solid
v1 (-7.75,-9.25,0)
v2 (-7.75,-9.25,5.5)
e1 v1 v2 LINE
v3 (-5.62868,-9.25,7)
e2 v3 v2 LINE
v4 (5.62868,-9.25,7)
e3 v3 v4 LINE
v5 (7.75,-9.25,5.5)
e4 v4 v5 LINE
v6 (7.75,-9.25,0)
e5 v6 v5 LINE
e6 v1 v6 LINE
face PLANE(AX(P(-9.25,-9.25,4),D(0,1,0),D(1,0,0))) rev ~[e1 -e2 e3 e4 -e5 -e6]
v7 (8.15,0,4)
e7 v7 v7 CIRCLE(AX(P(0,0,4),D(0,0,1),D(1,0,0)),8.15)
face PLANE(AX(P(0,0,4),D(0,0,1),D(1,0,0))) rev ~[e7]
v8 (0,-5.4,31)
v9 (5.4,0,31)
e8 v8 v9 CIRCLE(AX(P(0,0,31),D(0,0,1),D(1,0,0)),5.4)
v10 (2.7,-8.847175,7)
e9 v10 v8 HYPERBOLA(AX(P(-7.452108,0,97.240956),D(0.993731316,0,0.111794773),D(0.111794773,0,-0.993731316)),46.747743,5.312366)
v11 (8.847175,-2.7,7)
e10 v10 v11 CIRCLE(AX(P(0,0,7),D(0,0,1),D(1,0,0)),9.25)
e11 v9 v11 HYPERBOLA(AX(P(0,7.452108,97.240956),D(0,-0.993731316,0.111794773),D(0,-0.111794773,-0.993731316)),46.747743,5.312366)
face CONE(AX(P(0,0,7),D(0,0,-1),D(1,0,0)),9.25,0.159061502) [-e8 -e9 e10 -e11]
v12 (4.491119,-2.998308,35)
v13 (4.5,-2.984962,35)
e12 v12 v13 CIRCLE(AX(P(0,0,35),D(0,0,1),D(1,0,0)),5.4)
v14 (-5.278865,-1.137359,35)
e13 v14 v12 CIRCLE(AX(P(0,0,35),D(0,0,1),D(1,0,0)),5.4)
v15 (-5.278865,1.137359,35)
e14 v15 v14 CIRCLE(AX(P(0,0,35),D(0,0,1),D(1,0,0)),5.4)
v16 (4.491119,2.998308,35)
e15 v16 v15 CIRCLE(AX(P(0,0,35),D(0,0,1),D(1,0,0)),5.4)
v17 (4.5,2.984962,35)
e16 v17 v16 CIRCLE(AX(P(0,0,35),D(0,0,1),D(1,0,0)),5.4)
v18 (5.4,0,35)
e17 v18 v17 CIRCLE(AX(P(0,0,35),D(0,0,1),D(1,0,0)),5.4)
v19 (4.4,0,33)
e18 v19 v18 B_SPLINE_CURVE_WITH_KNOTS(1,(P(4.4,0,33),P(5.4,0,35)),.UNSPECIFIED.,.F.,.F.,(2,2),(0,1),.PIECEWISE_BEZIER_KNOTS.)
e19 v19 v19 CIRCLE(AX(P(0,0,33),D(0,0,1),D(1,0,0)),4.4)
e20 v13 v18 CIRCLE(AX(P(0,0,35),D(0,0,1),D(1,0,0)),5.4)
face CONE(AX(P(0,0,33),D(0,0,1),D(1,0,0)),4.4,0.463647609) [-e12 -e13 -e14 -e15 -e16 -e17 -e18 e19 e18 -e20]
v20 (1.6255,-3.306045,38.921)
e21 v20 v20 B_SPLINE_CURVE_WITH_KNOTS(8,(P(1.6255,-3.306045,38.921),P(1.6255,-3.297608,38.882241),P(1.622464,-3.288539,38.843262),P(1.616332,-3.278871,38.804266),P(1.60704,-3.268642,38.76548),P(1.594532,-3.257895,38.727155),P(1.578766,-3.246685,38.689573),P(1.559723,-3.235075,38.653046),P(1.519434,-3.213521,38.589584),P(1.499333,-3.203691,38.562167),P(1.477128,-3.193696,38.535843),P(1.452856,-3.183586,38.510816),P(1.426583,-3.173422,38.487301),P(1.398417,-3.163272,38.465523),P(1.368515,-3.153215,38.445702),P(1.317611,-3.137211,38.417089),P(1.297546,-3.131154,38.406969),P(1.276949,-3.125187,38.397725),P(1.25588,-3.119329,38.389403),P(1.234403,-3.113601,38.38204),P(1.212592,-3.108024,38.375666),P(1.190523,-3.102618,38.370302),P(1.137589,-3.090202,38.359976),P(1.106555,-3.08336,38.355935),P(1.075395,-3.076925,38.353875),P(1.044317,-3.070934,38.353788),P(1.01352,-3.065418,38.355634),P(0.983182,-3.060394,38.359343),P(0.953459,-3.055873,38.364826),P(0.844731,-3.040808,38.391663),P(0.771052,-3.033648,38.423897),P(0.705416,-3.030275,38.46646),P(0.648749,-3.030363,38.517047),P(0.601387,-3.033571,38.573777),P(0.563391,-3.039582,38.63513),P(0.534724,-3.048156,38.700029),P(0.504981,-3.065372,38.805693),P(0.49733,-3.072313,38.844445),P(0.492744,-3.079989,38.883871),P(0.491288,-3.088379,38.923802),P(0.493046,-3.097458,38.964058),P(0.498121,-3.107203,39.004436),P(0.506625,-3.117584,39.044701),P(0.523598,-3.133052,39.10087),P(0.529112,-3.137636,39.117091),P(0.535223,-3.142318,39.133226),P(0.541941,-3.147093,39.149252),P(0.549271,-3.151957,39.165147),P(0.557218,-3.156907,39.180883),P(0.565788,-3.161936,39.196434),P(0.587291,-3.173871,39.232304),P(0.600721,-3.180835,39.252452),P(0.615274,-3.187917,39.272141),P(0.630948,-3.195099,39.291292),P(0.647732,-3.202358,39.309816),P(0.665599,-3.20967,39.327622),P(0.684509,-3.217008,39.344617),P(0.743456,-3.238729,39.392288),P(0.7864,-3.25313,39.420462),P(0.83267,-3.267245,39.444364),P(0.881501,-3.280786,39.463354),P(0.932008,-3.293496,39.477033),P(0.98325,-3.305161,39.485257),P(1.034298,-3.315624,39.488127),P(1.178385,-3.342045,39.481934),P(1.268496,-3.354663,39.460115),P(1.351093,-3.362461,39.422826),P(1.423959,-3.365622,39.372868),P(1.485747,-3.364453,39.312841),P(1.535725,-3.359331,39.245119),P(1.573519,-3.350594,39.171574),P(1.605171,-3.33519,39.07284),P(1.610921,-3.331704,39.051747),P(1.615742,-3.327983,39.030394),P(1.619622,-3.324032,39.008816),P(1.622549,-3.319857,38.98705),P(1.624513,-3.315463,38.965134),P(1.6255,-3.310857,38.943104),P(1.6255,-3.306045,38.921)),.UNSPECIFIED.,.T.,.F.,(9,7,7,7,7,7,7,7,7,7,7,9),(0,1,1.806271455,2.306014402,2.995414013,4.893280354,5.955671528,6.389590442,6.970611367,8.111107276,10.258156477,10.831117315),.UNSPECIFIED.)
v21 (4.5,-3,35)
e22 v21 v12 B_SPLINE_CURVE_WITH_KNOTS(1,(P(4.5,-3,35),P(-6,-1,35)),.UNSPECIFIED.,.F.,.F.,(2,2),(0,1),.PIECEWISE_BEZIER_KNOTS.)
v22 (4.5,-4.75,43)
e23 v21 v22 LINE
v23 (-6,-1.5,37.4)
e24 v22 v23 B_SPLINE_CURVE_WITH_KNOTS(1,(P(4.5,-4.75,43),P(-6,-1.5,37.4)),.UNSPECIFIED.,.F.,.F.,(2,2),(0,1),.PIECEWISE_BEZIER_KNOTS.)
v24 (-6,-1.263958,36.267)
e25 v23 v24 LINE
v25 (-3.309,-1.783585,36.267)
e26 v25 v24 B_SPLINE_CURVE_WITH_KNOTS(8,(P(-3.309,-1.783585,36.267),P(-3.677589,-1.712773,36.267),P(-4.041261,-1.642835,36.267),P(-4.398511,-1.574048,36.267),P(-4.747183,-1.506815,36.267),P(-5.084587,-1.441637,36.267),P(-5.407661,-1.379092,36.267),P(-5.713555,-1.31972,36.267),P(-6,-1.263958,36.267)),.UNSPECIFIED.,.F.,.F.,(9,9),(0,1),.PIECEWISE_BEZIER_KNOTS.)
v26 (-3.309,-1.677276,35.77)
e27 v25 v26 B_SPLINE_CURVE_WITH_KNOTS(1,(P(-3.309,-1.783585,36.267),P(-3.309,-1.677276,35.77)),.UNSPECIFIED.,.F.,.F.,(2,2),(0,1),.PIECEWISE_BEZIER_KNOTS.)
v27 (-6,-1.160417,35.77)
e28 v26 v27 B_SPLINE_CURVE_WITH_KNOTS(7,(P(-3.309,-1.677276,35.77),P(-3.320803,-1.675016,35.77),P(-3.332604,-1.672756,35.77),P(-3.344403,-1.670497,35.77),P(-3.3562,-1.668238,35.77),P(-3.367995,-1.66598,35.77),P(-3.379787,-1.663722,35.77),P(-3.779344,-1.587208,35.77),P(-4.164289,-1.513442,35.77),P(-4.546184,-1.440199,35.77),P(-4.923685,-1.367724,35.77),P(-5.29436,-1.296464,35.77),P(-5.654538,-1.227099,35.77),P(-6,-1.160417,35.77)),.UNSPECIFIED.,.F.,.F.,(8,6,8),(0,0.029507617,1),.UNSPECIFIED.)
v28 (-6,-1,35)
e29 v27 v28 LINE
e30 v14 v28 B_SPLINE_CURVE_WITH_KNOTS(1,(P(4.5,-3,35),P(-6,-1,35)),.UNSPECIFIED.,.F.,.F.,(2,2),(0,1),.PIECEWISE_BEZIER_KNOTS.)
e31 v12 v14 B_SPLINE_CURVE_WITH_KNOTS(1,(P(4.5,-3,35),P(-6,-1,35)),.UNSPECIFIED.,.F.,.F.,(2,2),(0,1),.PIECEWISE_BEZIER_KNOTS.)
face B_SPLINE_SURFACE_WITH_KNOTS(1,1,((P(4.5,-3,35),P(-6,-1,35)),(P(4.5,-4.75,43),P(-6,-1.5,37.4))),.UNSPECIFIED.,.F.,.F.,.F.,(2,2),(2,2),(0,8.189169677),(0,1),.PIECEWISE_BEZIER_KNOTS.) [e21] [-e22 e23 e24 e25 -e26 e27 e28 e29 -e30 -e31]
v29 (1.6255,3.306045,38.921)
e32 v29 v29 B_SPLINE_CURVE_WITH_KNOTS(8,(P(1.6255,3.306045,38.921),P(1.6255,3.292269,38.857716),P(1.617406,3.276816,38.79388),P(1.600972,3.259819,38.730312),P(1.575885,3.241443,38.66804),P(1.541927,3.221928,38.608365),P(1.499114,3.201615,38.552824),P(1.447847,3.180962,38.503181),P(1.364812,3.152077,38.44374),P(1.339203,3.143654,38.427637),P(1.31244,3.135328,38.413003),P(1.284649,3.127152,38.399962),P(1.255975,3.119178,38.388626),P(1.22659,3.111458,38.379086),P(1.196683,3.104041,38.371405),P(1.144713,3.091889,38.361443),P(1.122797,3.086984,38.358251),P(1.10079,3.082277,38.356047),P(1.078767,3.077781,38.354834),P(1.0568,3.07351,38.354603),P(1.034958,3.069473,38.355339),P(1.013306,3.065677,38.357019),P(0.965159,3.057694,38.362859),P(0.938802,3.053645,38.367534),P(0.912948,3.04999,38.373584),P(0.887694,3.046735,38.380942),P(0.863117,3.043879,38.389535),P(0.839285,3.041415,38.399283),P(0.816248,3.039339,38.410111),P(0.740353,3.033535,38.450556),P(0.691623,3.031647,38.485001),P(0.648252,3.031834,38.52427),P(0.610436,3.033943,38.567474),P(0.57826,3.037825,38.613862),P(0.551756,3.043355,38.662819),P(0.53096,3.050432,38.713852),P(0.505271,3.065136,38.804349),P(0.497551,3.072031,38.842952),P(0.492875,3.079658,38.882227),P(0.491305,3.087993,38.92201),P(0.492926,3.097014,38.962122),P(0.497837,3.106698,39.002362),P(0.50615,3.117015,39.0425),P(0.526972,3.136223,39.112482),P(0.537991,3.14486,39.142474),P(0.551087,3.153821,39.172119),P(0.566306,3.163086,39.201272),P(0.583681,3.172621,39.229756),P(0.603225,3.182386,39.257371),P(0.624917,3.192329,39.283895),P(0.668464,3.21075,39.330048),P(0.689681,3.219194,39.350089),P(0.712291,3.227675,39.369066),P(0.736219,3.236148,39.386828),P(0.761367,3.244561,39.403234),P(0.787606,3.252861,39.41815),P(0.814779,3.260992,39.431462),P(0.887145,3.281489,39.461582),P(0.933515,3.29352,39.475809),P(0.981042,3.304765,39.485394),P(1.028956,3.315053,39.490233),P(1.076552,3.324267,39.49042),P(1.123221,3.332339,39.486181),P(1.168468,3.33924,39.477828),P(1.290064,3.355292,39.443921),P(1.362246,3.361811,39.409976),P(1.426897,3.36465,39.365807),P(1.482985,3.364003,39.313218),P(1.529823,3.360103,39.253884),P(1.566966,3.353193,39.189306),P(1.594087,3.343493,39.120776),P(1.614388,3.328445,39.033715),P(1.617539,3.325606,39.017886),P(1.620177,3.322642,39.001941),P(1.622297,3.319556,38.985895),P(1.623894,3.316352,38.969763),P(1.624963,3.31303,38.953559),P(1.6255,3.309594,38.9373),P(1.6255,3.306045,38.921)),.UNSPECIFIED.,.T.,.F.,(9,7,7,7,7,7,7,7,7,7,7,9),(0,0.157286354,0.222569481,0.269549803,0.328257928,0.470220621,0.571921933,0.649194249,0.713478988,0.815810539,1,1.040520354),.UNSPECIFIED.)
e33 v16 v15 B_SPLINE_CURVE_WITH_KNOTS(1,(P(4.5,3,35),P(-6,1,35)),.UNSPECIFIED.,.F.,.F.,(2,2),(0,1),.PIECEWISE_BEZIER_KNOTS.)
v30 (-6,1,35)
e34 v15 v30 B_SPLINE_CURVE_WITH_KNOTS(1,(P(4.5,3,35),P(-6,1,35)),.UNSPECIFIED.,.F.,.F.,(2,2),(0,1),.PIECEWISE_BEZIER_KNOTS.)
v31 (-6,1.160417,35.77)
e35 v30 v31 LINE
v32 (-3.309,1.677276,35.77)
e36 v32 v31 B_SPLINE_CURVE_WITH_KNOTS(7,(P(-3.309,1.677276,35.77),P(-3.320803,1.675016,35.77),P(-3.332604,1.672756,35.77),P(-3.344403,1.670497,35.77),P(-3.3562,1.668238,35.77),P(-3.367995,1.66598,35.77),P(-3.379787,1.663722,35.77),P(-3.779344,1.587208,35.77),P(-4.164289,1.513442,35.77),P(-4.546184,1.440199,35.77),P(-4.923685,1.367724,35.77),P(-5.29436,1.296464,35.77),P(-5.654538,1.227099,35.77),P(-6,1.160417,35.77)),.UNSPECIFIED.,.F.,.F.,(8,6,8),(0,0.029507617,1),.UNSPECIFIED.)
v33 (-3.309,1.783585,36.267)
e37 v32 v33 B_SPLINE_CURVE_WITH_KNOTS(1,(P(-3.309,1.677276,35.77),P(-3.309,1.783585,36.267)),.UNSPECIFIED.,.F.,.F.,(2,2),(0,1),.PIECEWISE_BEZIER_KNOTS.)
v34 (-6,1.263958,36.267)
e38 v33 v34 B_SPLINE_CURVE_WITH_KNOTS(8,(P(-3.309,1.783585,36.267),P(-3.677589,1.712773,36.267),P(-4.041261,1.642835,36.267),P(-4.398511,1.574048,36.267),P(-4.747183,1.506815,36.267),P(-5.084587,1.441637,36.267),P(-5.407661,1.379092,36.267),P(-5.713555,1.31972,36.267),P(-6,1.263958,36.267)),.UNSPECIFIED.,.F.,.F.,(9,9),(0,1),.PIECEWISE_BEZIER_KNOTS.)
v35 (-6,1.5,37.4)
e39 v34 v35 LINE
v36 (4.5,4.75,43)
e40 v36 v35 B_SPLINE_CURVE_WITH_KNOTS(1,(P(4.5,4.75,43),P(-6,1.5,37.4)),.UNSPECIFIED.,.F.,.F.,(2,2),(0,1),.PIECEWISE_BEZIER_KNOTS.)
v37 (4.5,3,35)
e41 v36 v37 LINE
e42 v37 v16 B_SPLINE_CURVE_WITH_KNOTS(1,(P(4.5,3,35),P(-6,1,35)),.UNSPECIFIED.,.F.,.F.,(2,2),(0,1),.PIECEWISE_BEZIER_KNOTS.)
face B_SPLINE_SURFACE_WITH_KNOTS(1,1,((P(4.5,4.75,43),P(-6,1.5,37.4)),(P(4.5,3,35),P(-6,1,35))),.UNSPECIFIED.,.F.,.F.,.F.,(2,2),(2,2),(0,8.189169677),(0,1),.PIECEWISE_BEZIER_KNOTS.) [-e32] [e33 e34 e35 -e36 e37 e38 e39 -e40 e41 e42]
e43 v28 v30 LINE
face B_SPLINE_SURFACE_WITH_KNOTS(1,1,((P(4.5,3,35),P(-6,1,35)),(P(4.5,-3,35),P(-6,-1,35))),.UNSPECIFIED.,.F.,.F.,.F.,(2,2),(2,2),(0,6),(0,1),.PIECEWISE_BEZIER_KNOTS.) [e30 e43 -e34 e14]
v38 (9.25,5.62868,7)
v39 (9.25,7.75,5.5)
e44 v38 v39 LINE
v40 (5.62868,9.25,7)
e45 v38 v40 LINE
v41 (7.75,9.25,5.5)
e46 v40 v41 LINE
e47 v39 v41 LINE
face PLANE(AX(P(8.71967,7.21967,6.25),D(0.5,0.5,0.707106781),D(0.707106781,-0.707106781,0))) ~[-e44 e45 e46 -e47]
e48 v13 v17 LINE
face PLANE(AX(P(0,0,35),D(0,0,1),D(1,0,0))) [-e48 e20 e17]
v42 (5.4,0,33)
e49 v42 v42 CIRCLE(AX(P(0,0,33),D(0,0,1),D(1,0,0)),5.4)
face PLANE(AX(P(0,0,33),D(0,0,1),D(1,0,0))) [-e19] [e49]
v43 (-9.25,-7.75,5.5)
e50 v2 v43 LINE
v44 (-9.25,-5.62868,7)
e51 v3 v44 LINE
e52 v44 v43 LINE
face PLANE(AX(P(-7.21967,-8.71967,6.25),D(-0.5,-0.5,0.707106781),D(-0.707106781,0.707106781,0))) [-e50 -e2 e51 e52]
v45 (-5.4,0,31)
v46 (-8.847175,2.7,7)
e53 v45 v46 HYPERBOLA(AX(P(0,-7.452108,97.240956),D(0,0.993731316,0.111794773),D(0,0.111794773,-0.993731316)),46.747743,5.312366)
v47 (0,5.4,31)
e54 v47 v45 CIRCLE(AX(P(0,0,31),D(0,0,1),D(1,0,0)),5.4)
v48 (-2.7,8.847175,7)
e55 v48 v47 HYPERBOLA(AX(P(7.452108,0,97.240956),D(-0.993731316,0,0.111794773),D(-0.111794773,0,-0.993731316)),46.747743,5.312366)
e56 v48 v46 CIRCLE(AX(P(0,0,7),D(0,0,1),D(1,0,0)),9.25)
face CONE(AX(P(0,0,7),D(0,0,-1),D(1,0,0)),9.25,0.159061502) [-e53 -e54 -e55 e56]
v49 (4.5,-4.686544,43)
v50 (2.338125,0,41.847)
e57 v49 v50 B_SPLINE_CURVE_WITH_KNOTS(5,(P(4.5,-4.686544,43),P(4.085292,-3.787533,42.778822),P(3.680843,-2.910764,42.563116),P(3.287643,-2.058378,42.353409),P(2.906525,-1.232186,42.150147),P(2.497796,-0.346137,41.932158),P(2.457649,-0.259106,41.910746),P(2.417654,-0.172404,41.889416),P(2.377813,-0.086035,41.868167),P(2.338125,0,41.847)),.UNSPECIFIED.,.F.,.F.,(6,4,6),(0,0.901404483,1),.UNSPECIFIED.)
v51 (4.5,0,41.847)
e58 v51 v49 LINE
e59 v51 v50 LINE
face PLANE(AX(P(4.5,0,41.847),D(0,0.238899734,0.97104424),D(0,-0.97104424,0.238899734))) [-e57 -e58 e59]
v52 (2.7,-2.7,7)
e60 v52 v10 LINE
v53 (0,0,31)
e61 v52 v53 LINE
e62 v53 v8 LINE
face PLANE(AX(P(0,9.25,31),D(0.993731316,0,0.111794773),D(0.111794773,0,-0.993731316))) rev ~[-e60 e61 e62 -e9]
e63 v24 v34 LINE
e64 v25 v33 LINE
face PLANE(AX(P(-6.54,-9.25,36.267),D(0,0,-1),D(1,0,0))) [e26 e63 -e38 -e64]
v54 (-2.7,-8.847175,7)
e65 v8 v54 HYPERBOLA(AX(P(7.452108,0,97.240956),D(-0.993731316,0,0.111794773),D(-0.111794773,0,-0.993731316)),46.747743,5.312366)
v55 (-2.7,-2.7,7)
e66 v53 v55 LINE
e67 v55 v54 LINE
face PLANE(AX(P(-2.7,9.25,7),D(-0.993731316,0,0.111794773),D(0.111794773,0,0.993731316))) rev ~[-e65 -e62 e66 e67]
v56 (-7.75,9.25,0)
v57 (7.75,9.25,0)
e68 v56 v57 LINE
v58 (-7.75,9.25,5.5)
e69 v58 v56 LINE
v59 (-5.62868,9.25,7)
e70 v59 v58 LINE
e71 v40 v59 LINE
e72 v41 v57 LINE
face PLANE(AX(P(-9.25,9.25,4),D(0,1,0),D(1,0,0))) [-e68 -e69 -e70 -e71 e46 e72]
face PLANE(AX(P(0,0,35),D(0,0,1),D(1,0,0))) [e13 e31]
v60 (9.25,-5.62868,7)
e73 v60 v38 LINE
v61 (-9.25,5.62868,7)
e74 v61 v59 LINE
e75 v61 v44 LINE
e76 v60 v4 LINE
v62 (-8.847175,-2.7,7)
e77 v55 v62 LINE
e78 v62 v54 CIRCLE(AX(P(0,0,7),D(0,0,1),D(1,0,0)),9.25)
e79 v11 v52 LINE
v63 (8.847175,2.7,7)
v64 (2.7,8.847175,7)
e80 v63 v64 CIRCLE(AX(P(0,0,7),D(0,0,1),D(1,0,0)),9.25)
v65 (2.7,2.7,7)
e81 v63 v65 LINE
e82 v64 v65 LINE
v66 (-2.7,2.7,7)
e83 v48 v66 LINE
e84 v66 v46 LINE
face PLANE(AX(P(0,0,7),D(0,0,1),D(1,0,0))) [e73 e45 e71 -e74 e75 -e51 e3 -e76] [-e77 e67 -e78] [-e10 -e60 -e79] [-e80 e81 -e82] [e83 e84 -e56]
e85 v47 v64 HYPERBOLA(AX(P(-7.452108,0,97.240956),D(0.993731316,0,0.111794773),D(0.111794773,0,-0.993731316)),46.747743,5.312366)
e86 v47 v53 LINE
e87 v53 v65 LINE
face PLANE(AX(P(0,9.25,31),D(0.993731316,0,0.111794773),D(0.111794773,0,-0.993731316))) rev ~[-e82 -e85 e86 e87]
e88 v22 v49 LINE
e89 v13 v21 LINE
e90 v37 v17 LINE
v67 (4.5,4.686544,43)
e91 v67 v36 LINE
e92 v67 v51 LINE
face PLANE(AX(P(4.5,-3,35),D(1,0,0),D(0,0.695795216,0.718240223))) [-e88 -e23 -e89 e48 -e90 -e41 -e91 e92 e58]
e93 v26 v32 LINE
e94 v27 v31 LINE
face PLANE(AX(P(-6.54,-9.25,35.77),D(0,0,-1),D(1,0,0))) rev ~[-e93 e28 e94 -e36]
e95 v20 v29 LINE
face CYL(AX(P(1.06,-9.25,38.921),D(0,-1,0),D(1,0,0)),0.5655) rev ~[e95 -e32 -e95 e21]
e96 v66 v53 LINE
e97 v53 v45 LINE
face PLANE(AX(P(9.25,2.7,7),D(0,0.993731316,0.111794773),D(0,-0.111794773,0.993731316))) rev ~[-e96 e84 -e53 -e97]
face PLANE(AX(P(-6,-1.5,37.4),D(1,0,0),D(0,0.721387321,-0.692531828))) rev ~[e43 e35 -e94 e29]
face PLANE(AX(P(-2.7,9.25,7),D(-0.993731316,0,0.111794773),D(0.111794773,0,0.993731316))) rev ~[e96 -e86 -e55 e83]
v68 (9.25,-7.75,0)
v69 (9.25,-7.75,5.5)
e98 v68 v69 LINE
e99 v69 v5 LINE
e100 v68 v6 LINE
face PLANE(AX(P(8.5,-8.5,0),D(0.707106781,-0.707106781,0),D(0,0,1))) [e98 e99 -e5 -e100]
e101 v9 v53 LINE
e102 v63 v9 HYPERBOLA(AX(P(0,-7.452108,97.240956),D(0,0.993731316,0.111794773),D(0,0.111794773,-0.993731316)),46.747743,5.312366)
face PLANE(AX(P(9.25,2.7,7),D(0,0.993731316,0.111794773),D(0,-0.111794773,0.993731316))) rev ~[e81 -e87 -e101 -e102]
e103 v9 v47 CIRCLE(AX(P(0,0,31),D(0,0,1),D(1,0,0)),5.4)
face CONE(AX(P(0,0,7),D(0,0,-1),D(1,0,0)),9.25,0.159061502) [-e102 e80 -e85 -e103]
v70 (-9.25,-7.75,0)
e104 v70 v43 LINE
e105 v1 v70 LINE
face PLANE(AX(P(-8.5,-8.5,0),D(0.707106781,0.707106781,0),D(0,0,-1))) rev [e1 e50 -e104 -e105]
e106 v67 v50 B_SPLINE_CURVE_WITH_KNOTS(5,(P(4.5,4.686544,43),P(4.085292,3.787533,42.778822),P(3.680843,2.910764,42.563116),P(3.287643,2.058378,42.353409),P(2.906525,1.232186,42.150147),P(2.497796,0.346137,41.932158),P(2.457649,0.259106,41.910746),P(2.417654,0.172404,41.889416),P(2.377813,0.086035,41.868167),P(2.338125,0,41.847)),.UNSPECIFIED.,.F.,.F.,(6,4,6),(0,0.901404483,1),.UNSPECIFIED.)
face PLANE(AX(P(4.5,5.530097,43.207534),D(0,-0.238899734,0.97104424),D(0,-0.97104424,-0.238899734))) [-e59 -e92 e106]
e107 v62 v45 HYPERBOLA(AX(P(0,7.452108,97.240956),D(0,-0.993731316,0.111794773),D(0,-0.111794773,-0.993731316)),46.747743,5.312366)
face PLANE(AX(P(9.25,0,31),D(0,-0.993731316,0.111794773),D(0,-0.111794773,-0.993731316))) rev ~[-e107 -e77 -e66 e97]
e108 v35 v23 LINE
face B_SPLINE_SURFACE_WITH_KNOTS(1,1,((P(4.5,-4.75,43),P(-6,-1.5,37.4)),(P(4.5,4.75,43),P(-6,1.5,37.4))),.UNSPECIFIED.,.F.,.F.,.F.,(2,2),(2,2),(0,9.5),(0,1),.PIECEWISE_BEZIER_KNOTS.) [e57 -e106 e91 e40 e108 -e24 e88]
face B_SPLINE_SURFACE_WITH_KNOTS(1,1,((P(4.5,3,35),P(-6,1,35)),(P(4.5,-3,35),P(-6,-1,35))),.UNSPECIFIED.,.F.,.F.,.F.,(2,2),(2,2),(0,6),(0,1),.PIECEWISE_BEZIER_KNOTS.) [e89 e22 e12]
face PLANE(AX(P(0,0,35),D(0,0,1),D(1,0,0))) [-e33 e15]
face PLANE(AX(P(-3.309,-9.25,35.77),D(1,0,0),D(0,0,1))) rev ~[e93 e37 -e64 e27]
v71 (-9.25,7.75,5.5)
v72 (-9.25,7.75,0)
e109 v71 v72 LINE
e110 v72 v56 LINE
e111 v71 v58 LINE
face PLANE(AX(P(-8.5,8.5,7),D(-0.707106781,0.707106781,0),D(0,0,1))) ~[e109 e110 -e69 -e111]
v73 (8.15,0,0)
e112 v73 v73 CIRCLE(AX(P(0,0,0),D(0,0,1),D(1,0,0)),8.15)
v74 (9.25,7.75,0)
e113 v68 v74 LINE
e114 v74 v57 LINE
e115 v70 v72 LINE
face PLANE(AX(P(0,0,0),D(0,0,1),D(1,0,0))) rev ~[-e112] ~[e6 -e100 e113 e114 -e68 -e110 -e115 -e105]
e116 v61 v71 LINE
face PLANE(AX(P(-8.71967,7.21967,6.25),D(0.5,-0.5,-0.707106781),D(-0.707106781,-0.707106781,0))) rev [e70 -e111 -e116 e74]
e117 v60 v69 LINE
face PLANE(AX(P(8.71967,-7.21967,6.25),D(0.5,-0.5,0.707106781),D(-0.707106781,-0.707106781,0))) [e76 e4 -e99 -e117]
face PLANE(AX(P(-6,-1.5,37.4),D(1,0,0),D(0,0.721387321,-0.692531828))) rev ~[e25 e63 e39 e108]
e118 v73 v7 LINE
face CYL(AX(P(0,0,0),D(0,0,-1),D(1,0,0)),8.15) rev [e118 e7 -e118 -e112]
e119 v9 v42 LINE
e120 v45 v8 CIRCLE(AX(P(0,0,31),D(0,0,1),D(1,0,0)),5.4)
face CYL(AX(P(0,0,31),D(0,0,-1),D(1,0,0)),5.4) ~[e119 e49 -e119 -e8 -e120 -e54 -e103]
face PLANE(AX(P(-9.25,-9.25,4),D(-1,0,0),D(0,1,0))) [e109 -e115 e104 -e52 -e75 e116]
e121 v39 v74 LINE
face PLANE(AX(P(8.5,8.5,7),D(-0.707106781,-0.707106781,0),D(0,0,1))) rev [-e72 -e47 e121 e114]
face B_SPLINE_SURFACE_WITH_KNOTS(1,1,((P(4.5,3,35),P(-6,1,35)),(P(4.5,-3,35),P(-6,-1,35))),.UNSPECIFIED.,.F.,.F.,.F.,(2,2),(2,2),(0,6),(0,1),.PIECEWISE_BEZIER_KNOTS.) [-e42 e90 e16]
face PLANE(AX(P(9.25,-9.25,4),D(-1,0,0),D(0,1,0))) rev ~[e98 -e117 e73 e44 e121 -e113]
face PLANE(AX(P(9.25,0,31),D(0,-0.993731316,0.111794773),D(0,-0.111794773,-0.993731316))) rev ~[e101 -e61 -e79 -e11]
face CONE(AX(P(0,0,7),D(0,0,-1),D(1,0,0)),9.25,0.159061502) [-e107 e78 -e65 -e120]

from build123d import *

# Parameters (mm, degrees)
SKETCH_W           = 18.5
SKETCH_H           = 18.5
SKETCH_R           = 8.15
PAD_DEPTH          = 4
SKETCH001_W        = 18.5
SKETCH001_H        = 18.5
PAD001_DEPTH       = 3
SKETCH002_R        = 9.25
SKETCH003_R        = 5.4
SKETCH005_R        = 5.4
PAD002_DEPTH       = 2
CHAMFER_SIZE       = 1.5
CHAMFER001_SIZE    = 1.5
POCKET_DEPTH       = 102.726887
POLARPATTERN_COUNT = 4
SKETCH007_R        = 4.4
SKETCH008_R        = 5.4
SKETCH009_W        = 9
SKETCH009_H        = 1
PAD003_DEPTH       = 1
SKETCH012_R        = 0.5655
SKETCH012_W        = 3.231
SKETCH012_H        = 0.497
POCKET001_DEPTH    = 18.501
POCKET002_DEPTH    = 13.751


with BuildPart() as part:
    # Sketch → Pad (new body)
    with BuildSketch(Plane.XY):
        Rectangle(SKETCH_W, SKETCH_H)
        Circle(SKETCH_R, mode=Mode.SUBTRACT)
    extrude(amount=PAD_DEPTH)

    # Sketch001 (on Face7 of Pad) → Pad001 (join)
    with BuildSketch(Plane.XY.offset(4)):
        Rectangle(SKETCH001_W, SKETCH001_H)
    extrude(amount=PAD001_DEPTH)

    # Sketch002 (on Face10 of Pad001) → AdditiveLoft section 0
    with BuildSketch(Plane.XY.offset(7)):
        Circle(SKETCH002_R)
    # Sketch003 (on Face10 of Pad001) → AdditiveLoft section 1
    with BuildSketch(Plane.XY.offset(31)):
        Circle(SKETCH003_R)
    loft()

    # Sketch005 (on Face17 of AdditiveLoft) → Pad002 (join)
    with BuildSketch(Plane.XY.offset(31)):
        Circle(SKETCH005_R)
    extrude(amount=PAD002_DEPTH)

    # Chamfer
    chamfer_edges = [part.edges().sort_by_distance(p)[0] for p in [
        (-9.25, -9.25, 5.5),
        (-9.25, -9.25, 2),
        (9.25, -9.25, 5.5),
        (9.25, -9.25, 2),
        (9.25, 9.25, 2),
        (9.25, 9.25, 5.5),
        (-9.25, 9.25, 5.5),
        (-9.25, 9.25, 2),
    ]]
    chamfer(chamfer_edges, length=CHAMFER_SIZE)

    # Chamfer001
    chamfer001_edges = [part.edges().sort_by_distance(p)[0] for p in [
        (8.5, -8.5, 7),
        (-8.5, -8.5, 7),
        (-8.5, 8.5, 7),
        (8.5, 8.5, 7),
    ]]
    chamfer(chamfer001_edges, length=CHAMFER001_SIZE)

    # Sketch006 (on Face19 of Chamfer001) → Pocket (cut, through all)
    with BuildSketch(Plane.YZ.offset(9.25)):
        Polygon((0, 31), (-2.7, 7), (2.7, 7), align=None)
    pocket = extrude(amount=-POCKET_DEPTH, mode=Mode.SUBTRACT)

    # PolarPattern: Pocket ×4 about axis
    polarpattern_axis = Axis((0, 0, 0), (0, 0, 1))
    for i in range(1, POLARPATTERN_COUNT):
        add(pocket.rotate(polarpattern_axis, i * 360 / POLARPATTERN_COUNT), mode=Mode.SUBTRACT)

    # Sketch007 (on Face47 of PolarPattern) → AdditiveLoft001 section 0
    with BuildSketch(Plane.XY.offset(33)):
        Circle(SKETCH007_R)
    # Sketch008 → AdditiveLoft001 section 1
    with BuildSketch(Plane.XY.offset(35)):
        Circle(SKETCH008_R)
    loft()

    # Sketch009 (on Face56 of AdditiveLoft001) → Pad003 (join)
    with BuildSketch(Plane.XY.offset(35)):
        Rectangle(SKETCH009_W, SKETCH009_H)
    extrude(amount=PAD003_DEPTH)

    # Sketch010 (on Face59 of Pad003) → AdditiveLoft002 section 0
    with BuildSketch(Plane.YZ.offset(4.5)):
        Polygon((-3, 35), (-4.75, 43), (4.75, 43), (3, 35), align=None)
    # Sketch011 → AdditiveLoft002 section 1
    with BuildSketch(Plane(origin=(-6, 0, 0), x_dir=(0, -1, 0), z_dir=(-1, 0, 0))):
        Polygon((-1.5, 37.4), (1.5, 37.4), (1, 35), (-1, 35), align=None)
    loft()

    # Sketch012 (on Face43 of AdditiveLoft002) → Pocket001 (cut, through all)
    with BuildSketch(Plane.XZ.offset(9.25)):
        with Locations((1.06, 38.921)):
            Circle(SKETCH012_R)
        with Locations((-4.9245, 36.0185)):
            Rectangle(SKETCH012_W, SKETCH012_H)
    extrude(amount=-POCKET001_DEPTH, mode=Mode.SUBTRACT)

    # Sketch013 (on Face62 of Pocket001) → Pocket002 (cut, through all)
    with BuildSketch(Plane.YZ.offset(4.5)):
        Polygon((0, 44.847), (5.530097, 43.207534), (0, 41.847), (-5.530097, 43.207534), align=None)
    extrude(amount=-POCKET002_DEPTH, mode=Mode.SUBTRACT)


solid = part.part
